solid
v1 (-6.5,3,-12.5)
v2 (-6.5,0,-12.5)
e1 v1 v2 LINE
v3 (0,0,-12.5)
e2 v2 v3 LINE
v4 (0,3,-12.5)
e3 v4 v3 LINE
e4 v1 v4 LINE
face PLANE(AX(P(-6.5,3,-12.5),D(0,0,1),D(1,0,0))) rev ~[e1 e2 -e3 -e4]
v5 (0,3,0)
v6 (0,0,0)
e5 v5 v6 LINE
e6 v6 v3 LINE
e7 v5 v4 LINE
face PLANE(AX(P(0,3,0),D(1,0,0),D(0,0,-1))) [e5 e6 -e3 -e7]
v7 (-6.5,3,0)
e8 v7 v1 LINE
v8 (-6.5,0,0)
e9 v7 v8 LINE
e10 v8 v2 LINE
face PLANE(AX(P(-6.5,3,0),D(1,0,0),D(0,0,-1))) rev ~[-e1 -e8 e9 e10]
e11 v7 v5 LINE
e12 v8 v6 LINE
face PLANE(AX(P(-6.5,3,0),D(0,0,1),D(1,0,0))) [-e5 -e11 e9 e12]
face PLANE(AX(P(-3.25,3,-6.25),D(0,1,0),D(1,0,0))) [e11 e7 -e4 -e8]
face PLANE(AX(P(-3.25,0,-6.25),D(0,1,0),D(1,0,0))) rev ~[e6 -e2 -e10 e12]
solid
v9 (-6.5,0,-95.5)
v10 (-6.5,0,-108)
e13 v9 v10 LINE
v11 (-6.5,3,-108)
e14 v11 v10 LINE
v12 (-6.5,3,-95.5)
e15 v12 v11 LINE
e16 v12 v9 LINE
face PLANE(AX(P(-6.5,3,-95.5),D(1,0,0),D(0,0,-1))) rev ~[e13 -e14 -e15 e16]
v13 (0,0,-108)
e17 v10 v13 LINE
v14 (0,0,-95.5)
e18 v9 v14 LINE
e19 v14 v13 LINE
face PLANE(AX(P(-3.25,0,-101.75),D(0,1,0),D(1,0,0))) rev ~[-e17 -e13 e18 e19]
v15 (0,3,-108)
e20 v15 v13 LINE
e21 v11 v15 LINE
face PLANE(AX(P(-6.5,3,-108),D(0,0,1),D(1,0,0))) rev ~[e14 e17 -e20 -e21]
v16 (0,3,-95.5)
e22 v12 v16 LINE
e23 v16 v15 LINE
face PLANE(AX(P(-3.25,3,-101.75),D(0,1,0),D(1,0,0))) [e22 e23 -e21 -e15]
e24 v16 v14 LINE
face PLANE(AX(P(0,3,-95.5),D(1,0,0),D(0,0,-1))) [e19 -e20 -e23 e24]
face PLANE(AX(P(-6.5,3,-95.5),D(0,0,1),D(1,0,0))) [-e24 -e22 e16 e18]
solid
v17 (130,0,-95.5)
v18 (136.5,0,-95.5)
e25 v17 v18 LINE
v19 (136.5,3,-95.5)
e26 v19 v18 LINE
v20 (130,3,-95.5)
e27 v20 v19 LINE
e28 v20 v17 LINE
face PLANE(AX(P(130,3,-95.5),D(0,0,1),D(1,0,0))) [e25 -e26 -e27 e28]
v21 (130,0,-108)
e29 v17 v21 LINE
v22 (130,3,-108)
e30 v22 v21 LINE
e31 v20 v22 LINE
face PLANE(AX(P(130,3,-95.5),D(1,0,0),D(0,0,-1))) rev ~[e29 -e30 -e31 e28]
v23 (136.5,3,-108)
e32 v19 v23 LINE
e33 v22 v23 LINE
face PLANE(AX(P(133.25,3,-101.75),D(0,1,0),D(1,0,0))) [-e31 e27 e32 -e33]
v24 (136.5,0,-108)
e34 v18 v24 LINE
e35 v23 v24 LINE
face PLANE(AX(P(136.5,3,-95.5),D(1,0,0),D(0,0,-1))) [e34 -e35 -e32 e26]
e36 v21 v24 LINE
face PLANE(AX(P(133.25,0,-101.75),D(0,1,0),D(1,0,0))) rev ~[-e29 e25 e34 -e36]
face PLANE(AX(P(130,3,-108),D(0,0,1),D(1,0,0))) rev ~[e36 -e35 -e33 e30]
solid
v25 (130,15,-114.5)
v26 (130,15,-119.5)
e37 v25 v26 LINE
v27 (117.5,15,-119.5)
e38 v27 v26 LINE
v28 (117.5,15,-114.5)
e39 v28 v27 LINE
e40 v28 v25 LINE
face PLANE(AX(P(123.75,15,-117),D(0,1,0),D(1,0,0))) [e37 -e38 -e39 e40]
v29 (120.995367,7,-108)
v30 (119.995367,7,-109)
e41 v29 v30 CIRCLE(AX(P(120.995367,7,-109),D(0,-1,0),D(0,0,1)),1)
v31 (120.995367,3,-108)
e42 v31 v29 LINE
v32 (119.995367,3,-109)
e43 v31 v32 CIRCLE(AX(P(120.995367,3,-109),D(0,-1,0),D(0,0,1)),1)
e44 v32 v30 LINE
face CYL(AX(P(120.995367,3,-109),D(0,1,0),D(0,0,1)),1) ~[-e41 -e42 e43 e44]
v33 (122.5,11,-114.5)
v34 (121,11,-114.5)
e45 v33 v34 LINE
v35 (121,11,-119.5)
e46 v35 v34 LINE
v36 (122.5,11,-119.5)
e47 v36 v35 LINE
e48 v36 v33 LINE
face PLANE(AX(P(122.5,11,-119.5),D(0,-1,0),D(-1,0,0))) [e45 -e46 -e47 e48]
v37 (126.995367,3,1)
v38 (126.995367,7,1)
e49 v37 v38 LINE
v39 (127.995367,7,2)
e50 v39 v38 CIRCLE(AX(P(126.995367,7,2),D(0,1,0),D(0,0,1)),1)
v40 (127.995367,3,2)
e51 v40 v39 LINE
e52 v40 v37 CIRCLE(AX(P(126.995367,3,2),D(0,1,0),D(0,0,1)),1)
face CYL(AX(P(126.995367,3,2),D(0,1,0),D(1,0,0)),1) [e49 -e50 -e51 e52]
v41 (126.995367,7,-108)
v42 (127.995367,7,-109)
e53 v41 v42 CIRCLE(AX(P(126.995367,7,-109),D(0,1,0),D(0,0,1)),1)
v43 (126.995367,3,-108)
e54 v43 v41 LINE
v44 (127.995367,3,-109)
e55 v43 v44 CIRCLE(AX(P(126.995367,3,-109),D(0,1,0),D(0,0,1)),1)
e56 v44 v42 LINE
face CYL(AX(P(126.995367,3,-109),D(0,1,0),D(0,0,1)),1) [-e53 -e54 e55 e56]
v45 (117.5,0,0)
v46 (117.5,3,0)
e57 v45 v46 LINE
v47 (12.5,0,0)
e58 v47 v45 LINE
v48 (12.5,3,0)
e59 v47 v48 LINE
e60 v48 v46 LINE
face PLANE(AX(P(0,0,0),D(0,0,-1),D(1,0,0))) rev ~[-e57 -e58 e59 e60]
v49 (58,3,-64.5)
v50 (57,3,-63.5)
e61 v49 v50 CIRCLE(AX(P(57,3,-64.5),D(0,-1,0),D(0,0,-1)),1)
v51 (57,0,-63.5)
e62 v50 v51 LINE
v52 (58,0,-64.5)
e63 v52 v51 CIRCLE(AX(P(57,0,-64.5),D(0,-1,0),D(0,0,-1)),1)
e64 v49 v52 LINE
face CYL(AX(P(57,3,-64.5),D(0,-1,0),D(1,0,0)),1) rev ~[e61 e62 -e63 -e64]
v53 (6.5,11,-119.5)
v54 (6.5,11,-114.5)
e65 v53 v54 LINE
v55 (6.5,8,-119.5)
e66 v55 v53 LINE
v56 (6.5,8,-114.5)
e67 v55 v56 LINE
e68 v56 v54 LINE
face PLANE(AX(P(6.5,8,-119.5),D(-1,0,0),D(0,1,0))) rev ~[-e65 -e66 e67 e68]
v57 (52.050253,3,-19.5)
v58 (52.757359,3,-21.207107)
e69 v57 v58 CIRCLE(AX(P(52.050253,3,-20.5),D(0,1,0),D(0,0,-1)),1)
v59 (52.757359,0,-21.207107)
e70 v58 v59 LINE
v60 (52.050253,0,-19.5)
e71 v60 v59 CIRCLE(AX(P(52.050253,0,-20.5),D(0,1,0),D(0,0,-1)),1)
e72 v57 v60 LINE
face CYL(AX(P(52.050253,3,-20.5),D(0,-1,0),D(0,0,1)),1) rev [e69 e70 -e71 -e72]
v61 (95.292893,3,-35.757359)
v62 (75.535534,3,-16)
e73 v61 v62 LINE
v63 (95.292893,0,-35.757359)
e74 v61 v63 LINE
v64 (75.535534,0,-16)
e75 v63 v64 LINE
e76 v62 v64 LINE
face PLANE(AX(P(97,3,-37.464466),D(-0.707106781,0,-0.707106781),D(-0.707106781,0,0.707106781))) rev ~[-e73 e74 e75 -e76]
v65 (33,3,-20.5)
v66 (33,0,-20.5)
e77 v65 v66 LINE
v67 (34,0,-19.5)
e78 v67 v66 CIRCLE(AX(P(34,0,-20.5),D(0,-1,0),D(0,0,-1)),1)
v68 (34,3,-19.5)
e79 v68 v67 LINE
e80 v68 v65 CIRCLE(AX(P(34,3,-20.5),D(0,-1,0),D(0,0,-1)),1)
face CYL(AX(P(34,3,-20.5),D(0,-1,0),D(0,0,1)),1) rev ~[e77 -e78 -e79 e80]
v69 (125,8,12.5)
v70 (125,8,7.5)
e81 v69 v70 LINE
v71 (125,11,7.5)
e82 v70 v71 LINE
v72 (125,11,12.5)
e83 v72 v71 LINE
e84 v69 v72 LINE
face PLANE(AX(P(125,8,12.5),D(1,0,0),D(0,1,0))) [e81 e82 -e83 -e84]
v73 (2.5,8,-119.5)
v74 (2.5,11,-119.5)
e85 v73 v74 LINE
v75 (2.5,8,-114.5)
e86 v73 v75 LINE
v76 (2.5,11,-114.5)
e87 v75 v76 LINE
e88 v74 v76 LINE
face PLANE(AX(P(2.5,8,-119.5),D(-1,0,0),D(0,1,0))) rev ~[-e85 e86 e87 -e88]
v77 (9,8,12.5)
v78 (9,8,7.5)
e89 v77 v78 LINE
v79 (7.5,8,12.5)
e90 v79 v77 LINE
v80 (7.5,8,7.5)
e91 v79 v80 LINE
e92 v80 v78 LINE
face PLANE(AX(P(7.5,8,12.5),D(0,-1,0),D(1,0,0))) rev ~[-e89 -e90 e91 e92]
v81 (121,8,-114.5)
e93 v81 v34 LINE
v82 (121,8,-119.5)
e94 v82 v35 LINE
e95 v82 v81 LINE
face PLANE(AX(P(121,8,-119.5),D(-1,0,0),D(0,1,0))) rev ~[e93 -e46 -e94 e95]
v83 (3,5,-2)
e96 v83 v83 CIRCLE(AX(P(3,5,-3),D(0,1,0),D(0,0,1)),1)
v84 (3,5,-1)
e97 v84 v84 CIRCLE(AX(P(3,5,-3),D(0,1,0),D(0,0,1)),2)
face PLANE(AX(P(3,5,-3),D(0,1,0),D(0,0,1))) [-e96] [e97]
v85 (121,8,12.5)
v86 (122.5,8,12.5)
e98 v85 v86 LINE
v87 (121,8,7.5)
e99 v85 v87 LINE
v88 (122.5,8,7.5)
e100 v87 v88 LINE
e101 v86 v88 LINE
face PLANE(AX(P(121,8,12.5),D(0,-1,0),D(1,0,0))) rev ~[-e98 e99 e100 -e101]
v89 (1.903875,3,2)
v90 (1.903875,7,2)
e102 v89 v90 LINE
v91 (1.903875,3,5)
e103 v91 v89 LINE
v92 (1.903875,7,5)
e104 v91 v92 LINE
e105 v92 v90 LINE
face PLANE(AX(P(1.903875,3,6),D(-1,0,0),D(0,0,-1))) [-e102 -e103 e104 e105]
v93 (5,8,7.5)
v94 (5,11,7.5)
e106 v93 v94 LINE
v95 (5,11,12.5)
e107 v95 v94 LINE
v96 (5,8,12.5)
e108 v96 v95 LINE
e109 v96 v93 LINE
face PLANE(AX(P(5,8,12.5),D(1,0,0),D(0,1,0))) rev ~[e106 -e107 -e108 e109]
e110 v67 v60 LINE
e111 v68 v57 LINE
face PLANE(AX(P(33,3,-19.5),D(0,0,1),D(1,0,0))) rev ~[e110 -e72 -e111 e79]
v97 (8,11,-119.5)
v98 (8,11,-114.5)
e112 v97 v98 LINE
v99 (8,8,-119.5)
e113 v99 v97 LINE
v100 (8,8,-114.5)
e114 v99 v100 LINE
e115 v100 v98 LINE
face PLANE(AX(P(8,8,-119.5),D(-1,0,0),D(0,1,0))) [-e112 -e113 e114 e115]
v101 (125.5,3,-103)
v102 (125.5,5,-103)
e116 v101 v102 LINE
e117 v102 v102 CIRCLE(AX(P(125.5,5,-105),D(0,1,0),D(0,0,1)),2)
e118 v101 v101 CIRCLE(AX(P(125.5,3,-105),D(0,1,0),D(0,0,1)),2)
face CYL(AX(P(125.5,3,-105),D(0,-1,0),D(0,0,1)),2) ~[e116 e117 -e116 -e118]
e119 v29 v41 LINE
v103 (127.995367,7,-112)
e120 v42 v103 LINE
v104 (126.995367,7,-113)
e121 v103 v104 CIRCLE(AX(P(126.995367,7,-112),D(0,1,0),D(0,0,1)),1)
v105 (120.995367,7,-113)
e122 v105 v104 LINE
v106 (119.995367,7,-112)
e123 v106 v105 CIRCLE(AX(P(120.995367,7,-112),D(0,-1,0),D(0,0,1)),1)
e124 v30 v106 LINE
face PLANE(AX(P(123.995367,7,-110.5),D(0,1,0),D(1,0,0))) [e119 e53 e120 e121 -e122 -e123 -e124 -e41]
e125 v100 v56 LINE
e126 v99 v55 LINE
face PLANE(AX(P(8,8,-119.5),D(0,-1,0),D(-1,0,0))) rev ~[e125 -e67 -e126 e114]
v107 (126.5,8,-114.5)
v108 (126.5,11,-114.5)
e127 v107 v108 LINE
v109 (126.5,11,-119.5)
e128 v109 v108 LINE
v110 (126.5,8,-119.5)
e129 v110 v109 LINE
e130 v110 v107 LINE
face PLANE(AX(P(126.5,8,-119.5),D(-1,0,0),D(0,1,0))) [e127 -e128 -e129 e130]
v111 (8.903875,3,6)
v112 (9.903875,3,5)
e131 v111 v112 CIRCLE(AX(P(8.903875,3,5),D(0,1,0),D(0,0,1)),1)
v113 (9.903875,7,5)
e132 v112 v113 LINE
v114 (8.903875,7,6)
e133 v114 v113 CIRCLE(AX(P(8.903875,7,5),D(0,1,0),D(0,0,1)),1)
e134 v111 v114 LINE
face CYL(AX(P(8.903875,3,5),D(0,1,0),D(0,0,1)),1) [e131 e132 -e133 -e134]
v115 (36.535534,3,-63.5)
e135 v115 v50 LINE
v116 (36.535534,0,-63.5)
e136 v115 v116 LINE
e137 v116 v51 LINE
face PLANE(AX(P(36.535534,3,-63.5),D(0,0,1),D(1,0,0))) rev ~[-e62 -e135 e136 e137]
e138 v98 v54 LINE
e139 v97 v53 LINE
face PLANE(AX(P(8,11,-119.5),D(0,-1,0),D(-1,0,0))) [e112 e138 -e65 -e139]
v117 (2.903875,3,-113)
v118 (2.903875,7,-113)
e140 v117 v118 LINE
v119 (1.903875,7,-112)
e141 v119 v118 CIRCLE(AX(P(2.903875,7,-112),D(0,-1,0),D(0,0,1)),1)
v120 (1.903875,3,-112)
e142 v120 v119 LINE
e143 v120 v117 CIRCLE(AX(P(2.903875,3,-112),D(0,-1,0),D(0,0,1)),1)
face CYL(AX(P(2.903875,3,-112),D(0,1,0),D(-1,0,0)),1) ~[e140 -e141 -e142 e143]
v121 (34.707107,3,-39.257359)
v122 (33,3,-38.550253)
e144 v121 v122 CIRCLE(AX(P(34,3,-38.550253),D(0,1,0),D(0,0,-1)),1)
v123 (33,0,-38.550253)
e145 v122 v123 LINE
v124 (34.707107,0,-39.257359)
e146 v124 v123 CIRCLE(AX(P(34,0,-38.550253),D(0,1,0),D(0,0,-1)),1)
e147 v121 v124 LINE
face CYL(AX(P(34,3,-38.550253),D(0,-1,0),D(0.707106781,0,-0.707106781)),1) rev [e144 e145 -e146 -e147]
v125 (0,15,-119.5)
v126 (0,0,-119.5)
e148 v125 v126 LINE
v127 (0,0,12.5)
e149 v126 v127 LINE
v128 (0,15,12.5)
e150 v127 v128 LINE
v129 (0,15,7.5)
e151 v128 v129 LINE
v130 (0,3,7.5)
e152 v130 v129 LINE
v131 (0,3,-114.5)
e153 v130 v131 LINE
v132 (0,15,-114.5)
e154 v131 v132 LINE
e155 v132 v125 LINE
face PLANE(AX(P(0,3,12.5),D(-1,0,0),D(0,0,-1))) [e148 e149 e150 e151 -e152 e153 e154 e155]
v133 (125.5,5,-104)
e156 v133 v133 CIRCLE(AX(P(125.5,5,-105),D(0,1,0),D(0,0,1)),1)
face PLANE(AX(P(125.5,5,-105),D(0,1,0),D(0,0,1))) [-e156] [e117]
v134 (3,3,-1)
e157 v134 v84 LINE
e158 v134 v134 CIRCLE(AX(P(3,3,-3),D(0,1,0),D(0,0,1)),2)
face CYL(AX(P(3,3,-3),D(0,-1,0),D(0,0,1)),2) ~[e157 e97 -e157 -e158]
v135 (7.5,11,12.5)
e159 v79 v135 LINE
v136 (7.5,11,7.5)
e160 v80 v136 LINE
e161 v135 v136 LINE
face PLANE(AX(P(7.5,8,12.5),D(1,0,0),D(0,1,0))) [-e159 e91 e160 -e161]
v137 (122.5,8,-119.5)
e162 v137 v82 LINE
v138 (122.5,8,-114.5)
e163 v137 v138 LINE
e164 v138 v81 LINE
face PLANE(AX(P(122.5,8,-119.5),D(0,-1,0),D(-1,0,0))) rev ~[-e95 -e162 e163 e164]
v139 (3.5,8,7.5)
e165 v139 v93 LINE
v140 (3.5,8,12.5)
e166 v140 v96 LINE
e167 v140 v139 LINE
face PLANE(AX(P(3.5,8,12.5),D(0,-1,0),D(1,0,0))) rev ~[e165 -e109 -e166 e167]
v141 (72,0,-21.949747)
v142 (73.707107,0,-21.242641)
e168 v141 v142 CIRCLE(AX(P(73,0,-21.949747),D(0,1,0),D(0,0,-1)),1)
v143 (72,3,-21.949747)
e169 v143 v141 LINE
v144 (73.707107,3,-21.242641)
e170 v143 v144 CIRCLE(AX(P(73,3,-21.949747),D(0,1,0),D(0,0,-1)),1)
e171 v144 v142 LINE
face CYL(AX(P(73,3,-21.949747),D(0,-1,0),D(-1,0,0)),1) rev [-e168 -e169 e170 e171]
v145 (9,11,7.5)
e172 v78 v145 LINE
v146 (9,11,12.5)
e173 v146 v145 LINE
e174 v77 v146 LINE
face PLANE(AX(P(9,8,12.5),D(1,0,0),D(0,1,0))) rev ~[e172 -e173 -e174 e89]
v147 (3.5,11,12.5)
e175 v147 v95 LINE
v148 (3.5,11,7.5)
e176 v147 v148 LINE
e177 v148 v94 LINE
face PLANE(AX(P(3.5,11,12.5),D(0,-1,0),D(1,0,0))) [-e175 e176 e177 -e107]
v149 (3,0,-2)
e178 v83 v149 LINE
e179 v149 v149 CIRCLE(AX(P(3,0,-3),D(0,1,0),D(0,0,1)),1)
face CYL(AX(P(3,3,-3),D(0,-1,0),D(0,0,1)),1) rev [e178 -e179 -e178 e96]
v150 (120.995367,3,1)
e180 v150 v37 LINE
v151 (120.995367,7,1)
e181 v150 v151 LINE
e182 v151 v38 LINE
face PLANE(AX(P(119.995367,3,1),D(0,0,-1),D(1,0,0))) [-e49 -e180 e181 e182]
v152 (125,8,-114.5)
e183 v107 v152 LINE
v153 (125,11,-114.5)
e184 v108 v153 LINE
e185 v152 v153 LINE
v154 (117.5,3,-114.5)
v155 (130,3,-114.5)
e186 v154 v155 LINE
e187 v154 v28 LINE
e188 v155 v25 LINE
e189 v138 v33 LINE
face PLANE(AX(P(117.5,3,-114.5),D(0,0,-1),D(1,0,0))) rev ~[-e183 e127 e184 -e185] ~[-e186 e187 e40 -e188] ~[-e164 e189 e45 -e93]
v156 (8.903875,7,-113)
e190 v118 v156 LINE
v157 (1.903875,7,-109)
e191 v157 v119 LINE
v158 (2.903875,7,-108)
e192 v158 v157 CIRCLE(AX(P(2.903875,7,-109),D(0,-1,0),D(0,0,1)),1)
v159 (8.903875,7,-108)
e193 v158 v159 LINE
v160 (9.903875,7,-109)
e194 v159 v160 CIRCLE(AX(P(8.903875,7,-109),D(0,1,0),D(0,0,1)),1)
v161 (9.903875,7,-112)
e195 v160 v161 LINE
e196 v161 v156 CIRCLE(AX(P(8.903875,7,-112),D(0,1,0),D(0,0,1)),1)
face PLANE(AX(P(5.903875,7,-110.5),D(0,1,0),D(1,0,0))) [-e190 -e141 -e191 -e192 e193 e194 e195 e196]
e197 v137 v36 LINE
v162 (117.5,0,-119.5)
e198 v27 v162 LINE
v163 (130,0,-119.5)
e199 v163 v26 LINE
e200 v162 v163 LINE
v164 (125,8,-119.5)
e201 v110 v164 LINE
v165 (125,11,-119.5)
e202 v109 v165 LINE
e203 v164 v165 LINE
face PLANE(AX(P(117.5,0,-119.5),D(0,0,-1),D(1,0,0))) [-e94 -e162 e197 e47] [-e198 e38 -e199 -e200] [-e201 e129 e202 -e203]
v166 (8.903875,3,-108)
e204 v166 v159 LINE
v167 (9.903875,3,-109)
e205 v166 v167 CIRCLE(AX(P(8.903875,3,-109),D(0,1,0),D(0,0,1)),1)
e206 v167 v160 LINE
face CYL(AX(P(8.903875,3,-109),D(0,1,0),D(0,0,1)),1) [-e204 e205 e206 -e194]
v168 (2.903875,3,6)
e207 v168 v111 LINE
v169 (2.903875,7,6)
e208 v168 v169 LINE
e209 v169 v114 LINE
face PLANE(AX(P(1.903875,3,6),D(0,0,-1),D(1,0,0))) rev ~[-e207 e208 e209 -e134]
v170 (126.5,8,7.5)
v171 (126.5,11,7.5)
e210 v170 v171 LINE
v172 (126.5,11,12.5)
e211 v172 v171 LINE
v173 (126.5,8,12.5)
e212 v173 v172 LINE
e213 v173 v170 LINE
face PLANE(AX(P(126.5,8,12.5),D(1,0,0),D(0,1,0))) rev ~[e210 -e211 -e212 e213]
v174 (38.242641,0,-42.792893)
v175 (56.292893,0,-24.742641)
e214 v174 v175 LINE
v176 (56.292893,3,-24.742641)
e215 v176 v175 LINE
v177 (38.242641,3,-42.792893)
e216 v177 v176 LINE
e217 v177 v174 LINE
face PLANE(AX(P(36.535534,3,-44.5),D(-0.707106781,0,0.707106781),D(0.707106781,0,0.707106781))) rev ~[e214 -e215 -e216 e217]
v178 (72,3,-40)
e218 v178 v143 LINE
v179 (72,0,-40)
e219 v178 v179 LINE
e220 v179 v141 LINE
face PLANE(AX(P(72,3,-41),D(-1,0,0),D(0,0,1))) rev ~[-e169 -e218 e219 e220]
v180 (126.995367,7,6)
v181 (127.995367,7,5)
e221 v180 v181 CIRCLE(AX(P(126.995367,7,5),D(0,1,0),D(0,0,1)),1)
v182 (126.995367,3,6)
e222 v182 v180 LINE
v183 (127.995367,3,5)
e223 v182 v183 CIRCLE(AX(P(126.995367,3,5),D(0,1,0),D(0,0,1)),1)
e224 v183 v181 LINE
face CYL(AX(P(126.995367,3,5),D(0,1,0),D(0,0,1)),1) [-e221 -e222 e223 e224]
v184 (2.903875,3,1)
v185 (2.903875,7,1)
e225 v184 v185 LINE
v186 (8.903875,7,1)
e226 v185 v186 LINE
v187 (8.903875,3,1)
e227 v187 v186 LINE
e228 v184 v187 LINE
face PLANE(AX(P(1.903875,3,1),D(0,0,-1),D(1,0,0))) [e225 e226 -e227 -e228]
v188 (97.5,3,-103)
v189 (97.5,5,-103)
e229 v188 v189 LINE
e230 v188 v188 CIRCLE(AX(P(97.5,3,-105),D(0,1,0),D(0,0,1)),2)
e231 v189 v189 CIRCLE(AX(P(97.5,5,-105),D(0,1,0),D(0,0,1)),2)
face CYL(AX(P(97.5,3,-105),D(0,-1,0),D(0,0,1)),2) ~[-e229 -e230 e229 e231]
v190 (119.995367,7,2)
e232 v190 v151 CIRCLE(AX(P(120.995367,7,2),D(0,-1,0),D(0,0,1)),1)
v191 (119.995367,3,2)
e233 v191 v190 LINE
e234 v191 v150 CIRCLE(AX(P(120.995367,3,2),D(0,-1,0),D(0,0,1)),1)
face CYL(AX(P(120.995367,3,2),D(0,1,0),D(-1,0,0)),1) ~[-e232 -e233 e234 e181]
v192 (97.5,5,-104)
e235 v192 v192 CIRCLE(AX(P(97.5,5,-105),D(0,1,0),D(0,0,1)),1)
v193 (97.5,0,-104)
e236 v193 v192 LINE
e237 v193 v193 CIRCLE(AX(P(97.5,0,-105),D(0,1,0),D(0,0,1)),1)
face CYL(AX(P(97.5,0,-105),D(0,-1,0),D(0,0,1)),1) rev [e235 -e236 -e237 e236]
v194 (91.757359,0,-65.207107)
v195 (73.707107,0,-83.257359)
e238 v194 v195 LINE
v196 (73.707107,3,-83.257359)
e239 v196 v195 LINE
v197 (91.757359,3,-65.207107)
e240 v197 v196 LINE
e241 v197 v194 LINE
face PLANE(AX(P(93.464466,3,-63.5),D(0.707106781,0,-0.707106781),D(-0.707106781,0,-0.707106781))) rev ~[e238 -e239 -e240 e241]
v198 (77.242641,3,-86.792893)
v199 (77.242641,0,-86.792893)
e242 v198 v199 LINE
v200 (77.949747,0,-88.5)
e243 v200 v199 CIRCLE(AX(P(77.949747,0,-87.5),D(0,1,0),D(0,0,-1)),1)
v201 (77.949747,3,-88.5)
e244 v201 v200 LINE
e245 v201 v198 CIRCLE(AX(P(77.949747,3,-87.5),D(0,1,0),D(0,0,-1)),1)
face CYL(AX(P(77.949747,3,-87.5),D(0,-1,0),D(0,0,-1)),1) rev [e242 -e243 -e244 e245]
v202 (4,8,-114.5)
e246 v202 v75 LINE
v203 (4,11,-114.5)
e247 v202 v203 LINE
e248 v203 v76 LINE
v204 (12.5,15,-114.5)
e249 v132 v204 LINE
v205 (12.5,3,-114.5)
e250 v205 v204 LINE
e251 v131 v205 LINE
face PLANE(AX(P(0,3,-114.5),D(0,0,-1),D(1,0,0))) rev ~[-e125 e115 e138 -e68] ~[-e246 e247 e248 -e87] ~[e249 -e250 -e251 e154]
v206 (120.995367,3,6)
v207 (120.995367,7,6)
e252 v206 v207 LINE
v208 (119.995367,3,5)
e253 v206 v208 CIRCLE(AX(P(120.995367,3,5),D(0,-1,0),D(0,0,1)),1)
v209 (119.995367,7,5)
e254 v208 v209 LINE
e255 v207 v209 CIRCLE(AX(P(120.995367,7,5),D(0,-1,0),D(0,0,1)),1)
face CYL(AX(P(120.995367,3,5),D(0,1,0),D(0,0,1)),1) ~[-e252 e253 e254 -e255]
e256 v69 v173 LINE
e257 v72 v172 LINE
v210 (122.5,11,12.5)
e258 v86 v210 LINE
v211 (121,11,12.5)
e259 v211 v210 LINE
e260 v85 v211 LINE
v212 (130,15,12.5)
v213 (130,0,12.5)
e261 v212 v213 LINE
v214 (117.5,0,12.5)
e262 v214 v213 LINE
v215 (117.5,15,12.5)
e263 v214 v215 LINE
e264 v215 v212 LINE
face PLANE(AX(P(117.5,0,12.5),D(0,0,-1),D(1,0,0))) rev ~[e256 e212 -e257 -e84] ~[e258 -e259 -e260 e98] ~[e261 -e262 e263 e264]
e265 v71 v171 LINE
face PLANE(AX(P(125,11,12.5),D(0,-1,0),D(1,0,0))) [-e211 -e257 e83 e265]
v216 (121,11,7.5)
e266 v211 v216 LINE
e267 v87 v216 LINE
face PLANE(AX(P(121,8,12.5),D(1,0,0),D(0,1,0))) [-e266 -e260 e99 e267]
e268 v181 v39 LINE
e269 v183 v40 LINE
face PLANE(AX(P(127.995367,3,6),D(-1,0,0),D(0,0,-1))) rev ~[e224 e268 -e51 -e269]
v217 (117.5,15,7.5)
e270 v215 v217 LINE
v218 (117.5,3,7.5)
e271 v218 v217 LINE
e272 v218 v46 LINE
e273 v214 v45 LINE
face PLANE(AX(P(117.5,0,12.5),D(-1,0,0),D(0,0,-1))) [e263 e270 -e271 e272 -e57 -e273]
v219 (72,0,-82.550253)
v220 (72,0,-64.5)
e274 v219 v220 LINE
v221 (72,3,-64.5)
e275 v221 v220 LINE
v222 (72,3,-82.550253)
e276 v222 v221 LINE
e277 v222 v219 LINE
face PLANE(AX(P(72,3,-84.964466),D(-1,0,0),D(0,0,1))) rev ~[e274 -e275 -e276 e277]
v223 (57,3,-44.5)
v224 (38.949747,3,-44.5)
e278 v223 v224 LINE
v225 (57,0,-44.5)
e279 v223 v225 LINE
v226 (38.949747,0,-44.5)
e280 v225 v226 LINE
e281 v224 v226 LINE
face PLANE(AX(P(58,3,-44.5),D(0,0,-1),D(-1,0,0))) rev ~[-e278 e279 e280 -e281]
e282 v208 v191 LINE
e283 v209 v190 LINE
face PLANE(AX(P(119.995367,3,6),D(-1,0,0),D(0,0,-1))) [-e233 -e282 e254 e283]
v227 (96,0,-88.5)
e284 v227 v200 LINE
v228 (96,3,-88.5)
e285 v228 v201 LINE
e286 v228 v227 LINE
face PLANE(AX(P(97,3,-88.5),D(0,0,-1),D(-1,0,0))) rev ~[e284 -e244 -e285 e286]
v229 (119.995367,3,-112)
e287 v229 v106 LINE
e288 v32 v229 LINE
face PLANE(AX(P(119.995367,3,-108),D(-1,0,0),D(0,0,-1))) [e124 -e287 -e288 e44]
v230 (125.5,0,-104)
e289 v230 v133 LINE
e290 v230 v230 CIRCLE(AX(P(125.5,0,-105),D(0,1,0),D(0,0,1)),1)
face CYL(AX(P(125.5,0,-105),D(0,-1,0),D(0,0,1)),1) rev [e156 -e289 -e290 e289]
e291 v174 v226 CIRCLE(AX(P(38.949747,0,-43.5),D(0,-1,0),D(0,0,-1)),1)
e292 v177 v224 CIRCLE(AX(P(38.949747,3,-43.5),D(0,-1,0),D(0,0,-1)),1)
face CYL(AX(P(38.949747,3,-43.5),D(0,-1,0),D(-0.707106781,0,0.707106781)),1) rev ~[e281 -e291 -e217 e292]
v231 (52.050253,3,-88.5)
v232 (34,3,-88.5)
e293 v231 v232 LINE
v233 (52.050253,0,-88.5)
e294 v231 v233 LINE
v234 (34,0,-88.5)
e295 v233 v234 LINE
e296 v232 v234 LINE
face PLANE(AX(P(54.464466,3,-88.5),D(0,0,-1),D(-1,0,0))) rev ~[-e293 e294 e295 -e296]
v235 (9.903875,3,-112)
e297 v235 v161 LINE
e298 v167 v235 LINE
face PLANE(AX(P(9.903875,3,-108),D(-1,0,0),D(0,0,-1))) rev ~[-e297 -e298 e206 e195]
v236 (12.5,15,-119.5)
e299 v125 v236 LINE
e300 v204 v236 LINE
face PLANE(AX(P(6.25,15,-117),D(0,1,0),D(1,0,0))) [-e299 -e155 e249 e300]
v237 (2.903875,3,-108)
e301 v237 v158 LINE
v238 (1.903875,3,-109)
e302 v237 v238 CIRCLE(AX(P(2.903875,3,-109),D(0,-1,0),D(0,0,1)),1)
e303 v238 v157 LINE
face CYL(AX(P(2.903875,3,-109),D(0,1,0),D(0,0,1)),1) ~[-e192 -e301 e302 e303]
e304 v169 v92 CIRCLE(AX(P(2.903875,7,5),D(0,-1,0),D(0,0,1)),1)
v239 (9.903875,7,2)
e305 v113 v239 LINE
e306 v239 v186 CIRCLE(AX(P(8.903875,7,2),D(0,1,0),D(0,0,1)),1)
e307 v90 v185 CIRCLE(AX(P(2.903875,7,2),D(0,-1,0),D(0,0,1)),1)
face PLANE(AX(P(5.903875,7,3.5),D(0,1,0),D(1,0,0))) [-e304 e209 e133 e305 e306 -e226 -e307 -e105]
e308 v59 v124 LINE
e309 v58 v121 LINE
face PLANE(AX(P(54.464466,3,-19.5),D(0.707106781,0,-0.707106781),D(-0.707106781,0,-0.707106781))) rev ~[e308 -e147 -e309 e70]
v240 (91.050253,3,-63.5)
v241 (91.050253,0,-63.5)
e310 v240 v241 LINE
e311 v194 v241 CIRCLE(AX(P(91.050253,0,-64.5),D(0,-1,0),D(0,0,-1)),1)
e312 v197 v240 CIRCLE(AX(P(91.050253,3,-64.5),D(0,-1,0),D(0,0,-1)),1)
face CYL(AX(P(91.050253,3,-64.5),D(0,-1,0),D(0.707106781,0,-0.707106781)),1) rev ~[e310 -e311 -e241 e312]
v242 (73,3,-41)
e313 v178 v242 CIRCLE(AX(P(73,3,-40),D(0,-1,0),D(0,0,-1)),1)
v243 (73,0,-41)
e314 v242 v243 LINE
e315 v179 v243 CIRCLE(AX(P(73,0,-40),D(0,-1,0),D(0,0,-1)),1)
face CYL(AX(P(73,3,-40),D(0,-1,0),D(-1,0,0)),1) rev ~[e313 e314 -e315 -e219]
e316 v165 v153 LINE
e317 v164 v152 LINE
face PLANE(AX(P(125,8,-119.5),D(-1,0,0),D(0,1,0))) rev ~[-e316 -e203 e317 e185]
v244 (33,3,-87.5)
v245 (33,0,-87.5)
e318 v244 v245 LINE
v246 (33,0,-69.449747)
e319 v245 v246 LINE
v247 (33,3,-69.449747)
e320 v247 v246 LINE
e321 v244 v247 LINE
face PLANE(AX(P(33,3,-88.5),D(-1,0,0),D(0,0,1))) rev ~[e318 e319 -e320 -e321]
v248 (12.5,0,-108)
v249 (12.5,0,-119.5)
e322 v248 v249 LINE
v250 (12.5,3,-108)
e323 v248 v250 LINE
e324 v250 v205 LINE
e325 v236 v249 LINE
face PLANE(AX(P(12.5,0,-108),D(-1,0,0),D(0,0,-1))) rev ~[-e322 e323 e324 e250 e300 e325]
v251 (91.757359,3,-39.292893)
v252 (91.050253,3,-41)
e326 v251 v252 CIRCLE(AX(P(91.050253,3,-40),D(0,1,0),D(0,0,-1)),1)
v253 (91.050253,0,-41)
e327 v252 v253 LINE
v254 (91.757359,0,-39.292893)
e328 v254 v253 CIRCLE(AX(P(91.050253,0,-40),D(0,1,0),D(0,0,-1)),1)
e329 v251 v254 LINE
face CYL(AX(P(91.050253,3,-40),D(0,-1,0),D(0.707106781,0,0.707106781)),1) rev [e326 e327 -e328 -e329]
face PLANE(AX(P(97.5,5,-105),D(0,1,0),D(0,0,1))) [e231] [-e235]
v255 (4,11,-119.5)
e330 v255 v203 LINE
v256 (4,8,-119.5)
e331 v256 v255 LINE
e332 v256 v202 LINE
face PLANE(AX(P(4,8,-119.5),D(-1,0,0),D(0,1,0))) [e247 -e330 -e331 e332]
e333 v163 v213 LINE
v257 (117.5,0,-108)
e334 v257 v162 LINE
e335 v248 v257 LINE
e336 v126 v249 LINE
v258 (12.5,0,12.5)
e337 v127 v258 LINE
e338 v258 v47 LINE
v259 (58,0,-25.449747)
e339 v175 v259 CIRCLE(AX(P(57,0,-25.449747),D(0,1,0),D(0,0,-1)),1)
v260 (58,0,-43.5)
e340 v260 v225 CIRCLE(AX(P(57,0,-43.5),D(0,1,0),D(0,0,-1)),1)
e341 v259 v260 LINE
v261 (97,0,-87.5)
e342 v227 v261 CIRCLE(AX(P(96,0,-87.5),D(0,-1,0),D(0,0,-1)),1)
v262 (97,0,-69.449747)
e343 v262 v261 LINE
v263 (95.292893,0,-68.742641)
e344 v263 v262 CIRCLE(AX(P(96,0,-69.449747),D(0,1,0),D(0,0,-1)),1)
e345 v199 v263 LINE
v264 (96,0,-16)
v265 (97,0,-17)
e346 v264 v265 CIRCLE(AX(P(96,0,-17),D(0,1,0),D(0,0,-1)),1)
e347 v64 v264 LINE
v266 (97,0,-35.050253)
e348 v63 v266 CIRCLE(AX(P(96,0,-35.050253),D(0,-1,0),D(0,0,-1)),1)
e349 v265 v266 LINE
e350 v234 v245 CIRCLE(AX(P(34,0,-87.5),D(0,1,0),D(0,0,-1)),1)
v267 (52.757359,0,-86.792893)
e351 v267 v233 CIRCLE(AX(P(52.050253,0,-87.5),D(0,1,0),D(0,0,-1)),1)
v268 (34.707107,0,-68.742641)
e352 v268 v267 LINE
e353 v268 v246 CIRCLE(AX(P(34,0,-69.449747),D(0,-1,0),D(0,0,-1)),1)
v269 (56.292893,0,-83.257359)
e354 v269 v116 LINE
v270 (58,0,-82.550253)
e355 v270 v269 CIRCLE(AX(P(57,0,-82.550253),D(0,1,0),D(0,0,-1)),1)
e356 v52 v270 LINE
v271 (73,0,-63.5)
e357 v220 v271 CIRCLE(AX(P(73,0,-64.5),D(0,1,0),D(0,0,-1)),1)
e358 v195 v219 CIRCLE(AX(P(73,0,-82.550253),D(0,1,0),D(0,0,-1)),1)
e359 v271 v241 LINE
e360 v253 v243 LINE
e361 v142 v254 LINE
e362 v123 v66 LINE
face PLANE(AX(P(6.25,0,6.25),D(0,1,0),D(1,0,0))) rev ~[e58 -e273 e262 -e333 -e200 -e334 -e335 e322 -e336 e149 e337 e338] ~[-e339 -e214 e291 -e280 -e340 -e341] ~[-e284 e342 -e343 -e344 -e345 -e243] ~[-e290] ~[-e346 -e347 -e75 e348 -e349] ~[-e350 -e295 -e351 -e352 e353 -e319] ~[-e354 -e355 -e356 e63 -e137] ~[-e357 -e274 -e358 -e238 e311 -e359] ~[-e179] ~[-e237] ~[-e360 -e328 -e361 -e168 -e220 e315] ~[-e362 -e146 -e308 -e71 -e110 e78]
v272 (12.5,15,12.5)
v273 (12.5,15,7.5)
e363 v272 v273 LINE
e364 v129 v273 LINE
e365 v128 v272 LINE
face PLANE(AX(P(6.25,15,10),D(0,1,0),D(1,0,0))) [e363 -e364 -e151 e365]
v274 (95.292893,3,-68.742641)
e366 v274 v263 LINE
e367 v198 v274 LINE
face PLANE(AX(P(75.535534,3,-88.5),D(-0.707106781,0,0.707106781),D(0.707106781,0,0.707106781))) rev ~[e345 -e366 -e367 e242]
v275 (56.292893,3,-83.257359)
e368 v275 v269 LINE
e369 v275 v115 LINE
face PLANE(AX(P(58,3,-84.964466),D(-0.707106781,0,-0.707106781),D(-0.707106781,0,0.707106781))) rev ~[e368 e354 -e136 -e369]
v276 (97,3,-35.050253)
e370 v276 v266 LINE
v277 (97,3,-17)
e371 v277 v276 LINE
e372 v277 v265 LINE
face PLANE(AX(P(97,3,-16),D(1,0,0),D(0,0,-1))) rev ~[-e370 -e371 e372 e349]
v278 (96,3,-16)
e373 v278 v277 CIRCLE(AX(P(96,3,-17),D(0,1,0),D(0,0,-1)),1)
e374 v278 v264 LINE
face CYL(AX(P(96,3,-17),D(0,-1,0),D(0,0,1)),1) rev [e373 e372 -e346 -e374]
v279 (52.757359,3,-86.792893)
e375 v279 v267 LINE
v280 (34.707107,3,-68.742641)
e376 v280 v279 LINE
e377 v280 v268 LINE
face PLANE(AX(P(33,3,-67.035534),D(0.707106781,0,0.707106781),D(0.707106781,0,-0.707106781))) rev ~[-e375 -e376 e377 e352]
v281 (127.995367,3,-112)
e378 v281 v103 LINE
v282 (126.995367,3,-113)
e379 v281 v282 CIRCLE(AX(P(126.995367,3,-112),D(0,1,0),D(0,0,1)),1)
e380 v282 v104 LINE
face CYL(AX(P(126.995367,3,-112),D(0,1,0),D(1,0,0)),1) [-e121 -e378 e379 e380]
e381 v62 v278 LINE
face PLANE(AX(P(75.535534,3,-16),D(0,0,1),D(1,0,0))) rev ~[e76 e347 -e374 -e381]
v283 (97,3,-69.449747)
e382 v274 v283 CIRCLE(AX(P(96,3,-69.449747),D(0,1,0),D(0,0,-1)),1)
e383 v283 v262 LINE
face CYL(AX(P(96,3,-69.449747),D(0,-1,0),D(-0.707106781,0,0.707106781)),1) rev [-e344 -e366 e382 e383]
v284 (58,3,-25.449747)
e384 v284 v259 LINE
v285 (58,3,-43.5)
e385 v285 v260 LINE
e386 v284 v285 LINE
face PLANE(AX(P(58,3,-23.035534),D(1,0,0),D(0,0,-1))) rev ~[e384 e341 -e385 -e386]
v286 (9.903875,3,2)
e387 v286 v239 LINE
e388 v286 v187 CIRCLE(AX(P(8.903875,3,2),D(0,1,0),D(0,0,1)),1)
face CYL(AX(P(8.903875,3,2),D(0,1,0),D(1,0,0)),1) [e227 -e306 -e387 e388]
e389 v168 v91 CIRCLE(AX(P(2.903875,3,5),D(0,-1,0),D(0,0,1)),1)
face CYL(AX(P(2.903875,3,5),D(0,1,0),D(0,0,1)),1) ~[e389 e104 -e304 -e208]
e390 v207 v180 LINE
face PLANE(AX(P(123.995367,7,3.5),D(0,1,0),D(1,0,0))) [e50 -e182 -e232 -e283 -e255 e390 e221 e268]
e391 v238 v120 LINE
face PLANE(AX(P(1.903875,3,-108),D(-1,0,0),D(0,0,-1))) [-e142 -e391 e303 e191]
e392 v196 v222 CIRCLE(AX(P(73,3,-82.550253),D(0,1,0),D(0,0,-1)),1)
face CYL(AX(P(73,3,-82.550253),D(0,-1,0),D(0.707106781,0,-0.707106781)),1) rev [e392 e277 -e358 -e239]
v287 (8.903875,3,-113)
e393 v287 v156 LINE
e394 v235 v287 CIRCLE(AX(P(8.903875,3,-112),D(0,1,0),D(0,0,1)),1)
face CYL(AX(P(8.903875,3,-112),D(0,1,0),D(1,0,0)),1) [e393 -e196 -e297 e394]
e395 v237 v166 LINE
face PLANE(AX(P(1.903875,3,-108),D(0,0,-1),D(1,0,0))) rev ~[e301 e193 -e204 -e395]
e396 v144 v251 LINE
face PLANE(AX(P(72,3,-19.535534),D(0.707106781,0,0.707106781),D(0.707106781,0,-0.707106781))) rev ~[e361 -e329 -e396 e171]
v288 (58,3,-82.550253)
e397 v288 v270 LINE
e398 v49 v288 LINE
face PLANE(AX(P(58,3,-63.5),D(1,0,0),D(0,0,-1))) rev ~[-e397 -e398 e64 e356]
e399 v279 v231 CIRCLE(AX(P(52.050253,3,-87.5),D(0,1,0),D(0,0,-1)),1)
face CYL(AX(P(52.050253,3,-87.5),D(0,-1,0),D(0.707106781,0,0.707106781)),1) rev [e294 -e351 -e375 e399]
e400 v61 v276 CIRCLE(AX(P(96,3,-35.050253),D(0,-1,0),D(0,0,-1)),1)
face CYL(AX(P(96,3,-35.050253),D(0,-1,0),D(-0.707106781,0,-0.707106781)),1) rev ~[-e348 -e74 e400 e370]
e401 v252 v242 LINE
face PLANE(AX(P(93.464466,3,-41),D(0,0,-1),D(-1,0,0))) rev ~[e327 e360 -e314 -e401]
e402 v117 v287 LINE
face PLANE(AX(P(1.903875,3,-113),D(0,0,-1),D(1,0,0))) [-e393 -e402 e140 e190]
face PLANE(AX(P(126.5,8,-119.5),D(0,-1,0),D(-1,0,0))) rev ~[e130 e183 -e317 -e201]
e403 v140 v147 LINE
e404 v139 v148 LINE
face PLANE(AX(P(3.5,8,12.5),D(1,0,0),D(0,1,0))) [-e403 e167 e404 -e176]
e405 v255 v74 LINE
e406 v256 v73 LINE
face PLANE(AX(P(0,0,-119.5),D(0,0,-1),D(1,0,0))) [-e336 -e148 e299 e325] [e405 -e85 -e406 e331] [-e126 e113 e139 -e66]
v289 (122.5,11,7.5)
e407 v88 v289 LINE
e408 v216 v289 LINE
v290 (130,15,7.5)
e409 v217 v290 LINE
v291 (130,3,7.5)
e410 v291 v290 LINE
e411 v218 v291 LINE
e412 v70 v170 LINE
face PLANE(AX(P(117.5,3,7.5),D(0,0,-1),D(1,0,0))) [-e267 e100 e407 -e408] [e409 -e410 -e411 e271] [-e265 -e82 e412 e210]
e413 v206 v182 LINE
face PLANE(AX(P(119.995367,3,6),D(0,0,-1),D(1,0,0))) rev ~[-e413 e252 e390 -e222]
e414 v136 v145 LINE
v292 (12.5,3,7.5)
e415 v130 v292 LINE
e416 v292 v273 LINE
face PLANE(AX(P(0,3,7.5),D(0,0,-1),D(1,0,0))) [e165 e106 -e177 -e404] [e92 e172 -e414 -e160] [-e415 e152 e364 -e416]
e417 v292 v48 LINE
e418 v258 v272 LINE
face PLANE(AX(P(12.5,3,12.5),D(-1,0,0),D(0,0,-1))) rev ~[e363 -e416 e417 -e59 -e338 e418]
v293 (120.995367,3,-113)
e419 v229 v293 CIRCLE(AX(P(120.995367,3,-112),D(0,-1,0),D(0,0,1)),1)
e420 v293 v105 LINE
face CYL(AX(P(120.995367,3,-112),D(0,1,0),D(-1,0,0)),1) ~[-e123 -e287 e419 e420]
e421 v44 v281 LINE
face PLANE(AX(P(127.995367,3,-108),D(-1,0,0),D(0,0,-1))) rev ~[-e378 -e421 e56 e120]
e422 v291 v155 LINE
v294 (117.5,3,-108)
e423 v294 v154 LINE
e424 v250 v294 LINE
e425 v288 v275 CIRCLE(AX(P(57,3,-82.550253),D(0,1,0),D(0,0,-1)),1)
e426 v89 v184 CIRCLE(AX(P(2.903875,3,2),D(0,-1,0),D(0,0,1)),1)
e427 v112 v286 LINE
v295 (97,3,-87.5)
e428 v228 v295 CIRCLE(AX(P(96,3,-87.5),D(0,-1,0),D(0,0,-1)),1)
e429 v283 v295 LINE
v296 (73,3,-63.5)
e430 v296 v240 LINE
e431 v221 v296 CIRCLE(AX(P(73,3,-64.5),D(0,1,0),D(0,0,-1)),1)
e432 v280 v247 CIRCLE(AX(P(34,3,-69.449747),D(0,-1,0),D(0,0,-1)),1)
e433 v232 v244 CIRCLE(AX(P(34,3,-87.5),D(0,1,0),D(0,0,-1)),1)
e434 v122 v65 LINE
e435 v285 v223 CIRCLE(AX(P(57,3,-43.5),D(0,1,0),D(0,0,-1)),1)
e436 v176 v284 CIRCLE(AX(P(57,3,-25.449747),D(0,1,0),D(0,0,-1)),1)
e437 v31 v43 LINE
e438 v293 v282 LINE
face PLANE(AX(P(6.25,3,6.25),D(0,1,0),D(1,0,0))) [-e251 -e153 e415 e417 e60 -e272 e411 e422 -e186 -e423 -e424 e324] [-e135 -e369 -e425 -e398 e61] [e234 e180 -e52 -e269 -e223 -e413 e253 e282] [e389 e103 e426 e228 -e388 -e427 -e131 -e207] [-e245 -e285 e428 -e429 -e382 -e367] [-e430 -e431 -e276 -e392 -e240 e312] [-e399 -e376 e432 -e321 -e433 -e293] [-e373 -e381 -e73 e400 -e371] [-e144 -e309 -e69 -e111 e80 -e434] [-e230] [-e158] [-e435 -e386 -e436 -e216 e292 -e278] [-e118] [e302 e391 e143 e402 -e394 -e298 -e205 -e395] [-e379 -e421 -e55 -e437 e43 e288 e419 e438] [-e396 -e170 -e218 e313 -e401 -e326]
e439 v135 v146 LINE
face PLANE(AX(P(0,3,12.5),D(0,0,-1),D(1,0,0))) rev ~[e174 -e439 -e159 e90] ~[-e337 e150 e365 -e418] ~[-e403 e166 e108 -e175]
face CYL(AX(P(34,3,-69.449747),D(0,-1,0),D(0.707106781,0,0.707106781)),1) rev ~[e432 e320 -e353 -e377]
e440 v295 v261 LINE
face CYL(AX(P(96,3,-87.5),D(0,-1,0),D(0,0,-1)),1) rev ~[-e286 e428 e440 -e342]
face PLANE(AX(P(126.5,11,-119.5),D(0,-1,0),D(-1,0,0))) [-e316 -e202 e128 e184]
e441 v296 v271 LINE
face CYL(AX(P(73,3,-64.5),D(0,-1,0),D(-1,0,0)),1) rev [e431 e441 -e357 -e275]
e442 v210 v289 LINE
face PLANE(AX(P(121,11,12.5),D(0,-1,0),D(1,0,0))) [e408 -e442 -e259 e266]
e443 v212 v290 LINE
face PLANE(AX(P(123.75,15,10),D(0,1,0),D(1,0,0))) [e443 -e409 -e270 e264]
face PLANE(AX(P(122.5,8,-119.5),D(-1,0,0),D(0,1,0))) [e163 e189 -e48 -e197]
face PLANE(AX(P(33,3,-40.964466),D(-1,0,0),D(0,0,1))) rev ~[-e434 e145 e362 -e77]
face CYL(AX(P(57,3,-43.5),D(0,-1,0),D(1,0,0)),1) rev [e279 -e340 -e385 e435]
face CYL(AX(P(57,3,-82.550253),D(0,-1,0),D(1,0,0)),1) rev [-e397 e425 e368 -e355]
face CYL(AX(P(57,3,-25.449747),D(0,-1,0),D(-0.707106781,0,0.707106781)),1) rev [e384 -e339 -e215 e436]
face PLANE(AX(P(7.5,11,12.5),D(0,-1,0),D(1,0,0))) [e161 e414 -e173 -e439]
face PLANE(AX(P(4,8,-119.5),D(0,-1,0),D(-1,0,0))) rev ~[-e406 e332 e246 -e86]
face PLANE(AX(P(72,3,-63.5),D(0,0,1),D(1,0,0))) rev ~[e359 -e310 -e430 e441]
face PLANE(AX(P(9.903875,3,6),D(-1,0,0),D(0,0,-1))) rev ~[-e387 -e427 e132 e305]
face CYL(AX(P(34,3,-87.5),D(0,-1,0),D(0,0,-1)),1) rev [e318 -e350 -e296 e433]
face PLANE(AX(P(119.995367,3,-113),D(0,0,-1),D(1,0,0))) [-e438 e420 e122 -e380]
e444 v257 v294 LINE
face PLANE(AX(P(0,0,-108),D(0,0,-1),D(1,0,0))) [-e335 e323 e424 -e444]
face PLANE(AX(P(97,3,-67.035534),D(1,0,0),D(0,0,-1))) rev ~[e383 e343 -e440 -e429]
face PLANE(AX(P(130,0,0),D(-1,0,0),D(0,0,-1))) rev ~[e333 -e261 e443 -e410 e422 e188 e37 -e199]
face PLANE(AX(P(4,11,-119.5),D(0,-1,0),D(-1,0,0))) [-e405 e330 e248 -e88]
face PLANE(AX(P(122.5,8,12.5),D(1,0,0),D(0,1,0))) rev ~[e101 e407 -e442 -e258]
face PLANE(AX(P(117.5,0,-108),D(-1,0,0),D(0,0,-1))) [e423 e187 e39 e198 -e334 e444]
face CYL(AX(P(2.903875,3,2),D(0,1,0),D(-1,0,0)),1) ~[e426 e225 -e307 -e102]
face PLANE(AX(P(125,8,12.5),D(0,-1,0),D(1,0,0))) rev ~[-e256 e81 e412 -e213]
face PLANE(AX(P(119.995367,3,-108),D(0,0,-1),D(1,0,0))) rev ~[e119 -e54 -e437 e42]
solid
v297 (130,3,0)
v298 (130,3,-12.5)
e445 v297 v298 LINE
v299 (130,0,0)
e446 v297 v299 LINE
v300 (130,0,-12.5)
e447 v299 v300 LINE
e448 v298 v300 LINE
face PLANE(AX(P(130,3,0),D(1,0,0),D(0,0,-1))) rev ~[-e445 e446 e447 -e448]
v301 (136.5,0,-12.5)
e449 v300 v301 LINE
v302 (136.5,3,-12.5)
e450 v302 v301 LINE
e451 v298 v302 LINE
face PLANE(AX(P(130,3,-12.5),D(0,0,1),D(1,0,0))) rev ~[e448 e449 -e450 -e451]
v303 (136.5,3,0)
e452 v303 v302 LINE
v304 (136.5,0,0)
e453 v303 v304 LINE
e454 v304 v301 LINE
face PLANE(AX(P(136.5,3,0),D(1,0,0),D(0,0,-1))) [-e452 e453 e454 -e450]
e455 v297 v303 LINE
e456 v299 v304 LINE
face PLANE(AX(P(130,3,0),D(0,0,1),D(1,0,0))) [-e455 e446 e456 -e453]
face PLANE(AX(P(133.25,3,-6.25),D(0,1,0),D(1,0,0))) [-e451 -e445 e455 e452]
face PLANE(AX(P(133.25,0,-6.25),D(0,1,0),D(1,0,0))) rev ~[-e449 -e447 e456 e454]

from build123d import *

# Parameters (mm, degrees)
SKETCH1_W             = 130
SKETCH1_H             = 108
SKETCH1_R             = 2
SKETCH1_R_2           = 1
SKETCH1_W_2           = 12.5
SKETCH1_H_2           = 11.5
SKETCH1_H_3           = 12.5
BOSS_EXTRUDE2_DEPTH   = 3
SKETCH3_R             = 2
SKETCH3_R_2           = 1
BOSS_EXTRUDE3_DEPTH   = 2
SKETCH5_W             = 12.5
SKETCH5_H             = 5
BOSS_EXTRUDE4_DEPTH   = 12
SKETCH6_W             = 1.5
SKETCH6_H             = 3
CUT_EXTRUDE1_DEPTH    = 5
SKETCH7_W             = 1.5
SKETCH7_H             = 3
CUT_EXTRUDE2_DEPTH    = 5
SKETCH8_W             = 8
SKETCH8_H             = 5
BOSS_EXTRUDE5_DEPTH   = 4
SKETCH9_W             = 6.5
SKETCH9_H             = 12.5
BOSS_EXTRUDE6_DEPTH   = 3
BOSS_EXTRUDE6_2_DEPTH = 3
BOSS_EXTRUDE6_3_DEPTH = 3
BOSS_EXTRUDE6_4_DEPTH = 3
CUT_EXTRUDE3_DEPTH    = 3
FILLET1_R             = 1


with BuildPart() as part:
    # Sketch1 → Boss-Extrude2 (new body)
    # profile 1 of 8: a face of its own
    with BuildSketch(Plane(origin=(0, 0, 0), x_dir=(1, 0, 0), z_dir=(0, 1, 0))):
        with Locations((65, 54)):
            Rectangle(SKETCH1_W, SKETCH1_H)
        with Locations((125.5, 105)):
            Circle(SKETCH1_R, mode=Mode.SUBTRACT)
        with Locations((97.5, 105)):
            Circle(SKETCH1_R, mode=Mode.SUBTRACT)
        with Locations((3, 3)):
            Circle(SKETCH1_R, mode=Mode.SUBTRACT)
    # profile 2 of 8: a face of its own
    with BuildSketch(Plane(origin=(0, 0, 0), x_dir=(1, 0, 0), z_dir=(0, 1, 0))):
        with Locations((3, 3)):
            Circle(SKETCH1_R)
        with Locations(Location((3, 3, 0), (0, 0, 270))):
            Circle(SKETCH1_R_2, mode=Mode.SUBTRACT)
    # profile 3 of 8: a face of its own
    with BuildSketch(Plane(origin=(0, 0, 0), x_dir=(1, 0, 0), z_dir=(0, 1, 0))):
        with Locations((125.5, 105)):
            Circle(SKETCH1_R)
        with Locations(Location((125.5, 105, 0), (0, 0, 270))):
            Circle(SKETCH1_R_2, mode=Mode.SUBTRACT)
    # profile 4 of 8: a face of its own
    with BuildSketch(Plane(origin=(0, 0, 0), x_dir=(1, 0, 0), z_dir=(0, 1, 0))):
        with Locations((97.5, 105)):
            Circle(SKETCH1_R)
        with Locations(Location((97.5, 105, 0), (0, 0, 270))):
            Circle(SKETCH1_R_2, mode=Mode.SUBTRACT)
    # profile 5 of 8: a face of its own
    with BuildSketch(Plane(origin=(0, 0, 0), x_dir=(1, 0, 0), z_dir=(0, 1, 0))):
        with Locations((6.25, 113.75)):
            Rectangle(SKETCH1_W_2, SKETCH1_H_2)
    # profile 6 of 8: a face of its own
    with BuildSketch(Plane(origin=(0, 0, 0), x_dir=(1, 0, 0), z_dir=(0, 1, 0))):
        with Locations((123.75, 113.75)):
            Rectangle(SKETCH1_W_2, SKETCH1_H_2)
    # profile 7 of 8: a face of its own
    with BuildSketch(Plane(origin=(0, 0, 0), x_dir=(1, 0, 0), z_dir=(0, 1, 0))):
        with Locations((123.75, -6.25)):
            Rectangle(SKETCH1_W_2, SKETCH1_H_3)
    # profile 8 of 8: a face of its own
    with BuildSketch(Plane(origin=(0, 0, 0), x_dir=(1, 0, 0), z_dir=(0, 1, 0))):
        with Locations((6.25, -6.25)):
            Rectangle(SKETCH1_W_2, SKETCH1_H_3)
    extrude(amount=BOSS_EXTRUDE2_DEPTH)

    # Sketch3 → Boss-Extrude3 (add)
    # profile 1 of 3: a face of its own
    with BuildSketch(Plane(origin=(0, 3, 0), x_dir=(1, 0, 0), z_dir=(0, 1, 0))):
        with Locations(Location((3, 3, 0), (0, 0, 270))):
            Circle(SKETCH3_R)
        with Locations(Location((3, 3, 0), (0, 0, 270))):
            Circle(SKETCH3_R_2, mode=Mode.SUBTRACT)
    # profile 2 of 3: a face of its own
    with BuildSketch(Plane(origin=(0, 3, 0), x_dir=(1, 0, 0), z_dir=(0, 1, 0))):
        with Locations(Location((97.5, 105, 0), (0, 0, 270))):
            Circle(SKETCH3_R)
        with Locations(Location((97.5, 105, 0), (0, 0, 270))):
            Circle(SKETCH3_R_2, mode=Mode.SUBTRACT)
    # profile 3 of 3: a face of its own
    with BuildSketch(Plane(origin=(0, 3, 0), x_dir=(1, 0, 0), z_dir=(0, 1, 0))):
        with Locations(Location((125.5, 105, 0), (0, 0, 270))):
            Circle(SKETCH3_R)
        with Locations(Location((125.5, 105, 0), (0, 0, 270))):
            Circle(SKETCH3_R_2, mode=Mode.SUBTRACT)
    extrude(amount=BOSS_EXTRUDE3_DEPTH)

    # Sketch5 → Boss-Extrude4 (add)
    with BuildSketch(Plane(origin=(0, 3, 0), x_dir=(1, 0, 0), z_dir=(0, 1, 0))):
        with Locations((6.25, -10)):
            Rectangle(SKETCH5_W, SKETCH5_H)
        with Locations((123.75, -10)):
            Rectangle(SKETCH5_W, SKETCH5_H)
        with Locations((6.25, 117)):
            Rectangle(SKETCH5_W, SKETCH5_H)
        with Locations((123.75, 117)):
            Rectangle(SKETCH5_W, SKETCH5_H)
    extrude(amount=BOSS_EXTRUDE4_DEPTH)

    # Sketch6 → Cut-Extrude1 (cut)
    with BuildSketch(Plane.XY.offset(12.5)):
        with Locations((8.25, 9.5)):
            Rectangle(SKETCH6_W, SKETCH6_H)
        with Locations((125.75, 9.5)):
            Rectangle(SKETCH6_W, SKETCH6_H)
        with Locations((121.75, 9.5)):
            Rectangle(SKETCH6_W, SKETCH6_H)
        with Locations((4.25, 9.5)):
            Rectangle(SKETCH6_W, SKETCH6_H)
    extrude(amount=-CUT_EXTRUDE1_DEPTH, mode=Mode.SUBTRACT)

    # Sketch7 → Cut-Extrude2 (cut)
    with BuildSketch(Plane(origin=(0, 0, -119.5), x_dir=(-1, 0, 0), z_dir=(0, 0, -1))):
        with Locations((-125.75, 9.5)):
            Rectangle(SKETCH7_W, SKETCH7_H)
        with Locations((-121.75, 9.5)):
            Rectangle(SKETCH7_W, SKETCH7_H)
        with Locations((-3.25, 9.5)):
            Rectangle(SKETCH7_W, SKETCH7_H)
        with Locations((-7.25, 9.5)):
            Rectangle(SKETCH7_W, SKETCH7_H)
    extrude(amount=-CUT_EXTRUDE2_DEPTH, mode=Mode.SUBTRACT)

    # Sketch8 → Boss-Extrude5 (add)
    with BuildSketch(Plane(origin=(0, 3, 0), x_dir=(1, 0, 0), z_dir=(0, 1, 0))):
        with Locations((5.903875203, 110.5)):
            Rectangle(SKETCH8_W, SKETCH8_H)
        with Locations((123.995366617, 110.5)):
            Rectangle(SKETCH8_W, SKETCH8_H)
        with Locations((123.995366617, -3.5)):
            Rectangle(SKETCH8_W, SKETCH8_H)
        with Locations((5.903875203, -3.5)):
            Rectangle(SKETCH8_W, SKETCH8_H)
    extrude(amount=BOSS_EXTRUDE5_DEPTH)

    # Sketch10 → Cut-Extrude3 (cut)
    with BuildSketch(Plane(origin=(0, 3, 0), x_dir=(1, 0, 0), z_dir=(0, 1, 0))):
        Polygon((97, 37.464466094), (75.535533906, 16), (97, 16), align=None)
        Polygon((72, 41), (72, 19.535533906), (93.464466094, 41), align=None)
        Polygon((93.464466094, 63.5), (72, 84.964466094), (72, 63.5), align=None)
        Polygon((97, 88.5), (75.535533906, 88.5), (97, 67.035533906), align=None)
        Polygon((36.535533906, 44.5), (58, 23.035533906), (58, 44.5), align=None)
        Polygon((58, 63.5), (58, 84.964466094), (36.535533906, 63.5), align=None)
        Polygon((33, 67.035533906), (54.464466094, 88.5), (33, 88.5), align=None)
        Polygon((33, 19.5), (54.464466094, 19.5), (33, 40.964466094), align=None)
    extrude(amount=-CUT_EXTRUDE3_DEPTH, mode=Mode.SUBTRACT)

    # Fillet1
    fillet1_edges = [part.edges().sort_by_distance(p)[0] for p in [
        (9.903875203, 5, -108),
        (9.903875203, 5, -113),
        (1.903875203, 5, -113),
        (1.903875203, 5, -108),
        (127.995366617, 5, -108),
        (127.995366617, 5, -113),
        (119.995366617, 5, -113),
        (119.995366617, 5, -108),
        (127.995366617, 5, 6),
        (127.995366617, 5, 1),
        (119.995366617, 5, 1),
        (119.995366617, 5, 6),
        (1.903875203, 5, 1),
        (1.903875203, 5, 6),
        (9.903875203, 5, 6),
        (9.903875203, 5, 1),
        (36.535533906, 1.5, -44.5),
        (58, 1.5, -44.5),
        (58, 1.5, -23.035533906),
        (97, 1.5, -67.035533906),
        (75.535533906, 1.5, -88.5),
        (97, 1.5, -88.5),
        (93.464466094, 1.5, -63.5),
        (72, 1.5, -63.5),
        (72, 1.5, -84.964466094),
        (72, 1.5, -19.535533906),
        (72, 1.5, -41),
        (93.464466094, 1.5, -41),
        (33, 1.5, -67.035533906),
        (33, 1.5, -88.5),
        (54.464466094, 1.5, -88.5),
        (58, 1.5, -84.964466094),
        (58, 1.5, -63.5),
        (33, 1.5, -40.964466094),
        (54.464466094, 1.5, -19.5),
        (33, 1.5, -19.5),
        (97, 1.5, -37.464466094),
        (97, 1.5, -16),
    ]]
    fillet(fillet1_edges, radius=FILLET1_R)


with BuildPart() as body_2:
    # Sketch9 → Boss-Extrude6 (new body)
    with BuildSketch(Plane(origin=(0, 3, 0), x_dir=(1, 0, 0), z_dir=(0, 1, 0))):
        with Locations((133.25, 6.25)):
            Rectangle(SKETCH9_W, SKETCH9_H)
    extrude(amount=-BOSS_EXTRUDE6_DEPTH)


with BuildPart() as body_3:
    # Sketch9 → Boss-Extrude6 2 (new body)
    with BuildSketch(Plane(origin=(0, 3, 0), x_dir=(1, 0, 0), z_dir=(0, 1, 0))):
        with Locations((133.25, 101.75)):
            Rectangle(SKETCH9_W, SKETCH9_H)
    extrude(amount=-BOSS_EXTRUDE6_2_DEPTH)


with BuildPart() as body_4:
    # Sketch9 → Boss-Extrude6 3 (new body)
    with BuildSketch(Plane(origin=(0, 3, 0), x_dir=(1, 0, 0), z_dir=(0, 1, 0))):
        with Locations((-3.25, 6.25)):
            Rectangle(SKETCH9_W, SKETCH9_H)
    extrude(amount=-BOSS_EXTRUDE6_3_DEPTH)


with BuildPart() as body_5:
    # Sketch9 → Boss-Extrude6 4 (new body)
    with BuildSketch(Plane(origin=(0, 3, 0), x_dir=(1, 0, 0), z_dir=(0, 1, 0))):
        with Locations((-3.25, 101.75)):
            Rectangle(SKETCH9_W, SKETCH9_H)
    extrude(amount=-BOSS_EXTRUDE6_4_DEPTH)


solid = Compound([part.part, body_2.part, body_3.part, body_4.part, body_5.part])
